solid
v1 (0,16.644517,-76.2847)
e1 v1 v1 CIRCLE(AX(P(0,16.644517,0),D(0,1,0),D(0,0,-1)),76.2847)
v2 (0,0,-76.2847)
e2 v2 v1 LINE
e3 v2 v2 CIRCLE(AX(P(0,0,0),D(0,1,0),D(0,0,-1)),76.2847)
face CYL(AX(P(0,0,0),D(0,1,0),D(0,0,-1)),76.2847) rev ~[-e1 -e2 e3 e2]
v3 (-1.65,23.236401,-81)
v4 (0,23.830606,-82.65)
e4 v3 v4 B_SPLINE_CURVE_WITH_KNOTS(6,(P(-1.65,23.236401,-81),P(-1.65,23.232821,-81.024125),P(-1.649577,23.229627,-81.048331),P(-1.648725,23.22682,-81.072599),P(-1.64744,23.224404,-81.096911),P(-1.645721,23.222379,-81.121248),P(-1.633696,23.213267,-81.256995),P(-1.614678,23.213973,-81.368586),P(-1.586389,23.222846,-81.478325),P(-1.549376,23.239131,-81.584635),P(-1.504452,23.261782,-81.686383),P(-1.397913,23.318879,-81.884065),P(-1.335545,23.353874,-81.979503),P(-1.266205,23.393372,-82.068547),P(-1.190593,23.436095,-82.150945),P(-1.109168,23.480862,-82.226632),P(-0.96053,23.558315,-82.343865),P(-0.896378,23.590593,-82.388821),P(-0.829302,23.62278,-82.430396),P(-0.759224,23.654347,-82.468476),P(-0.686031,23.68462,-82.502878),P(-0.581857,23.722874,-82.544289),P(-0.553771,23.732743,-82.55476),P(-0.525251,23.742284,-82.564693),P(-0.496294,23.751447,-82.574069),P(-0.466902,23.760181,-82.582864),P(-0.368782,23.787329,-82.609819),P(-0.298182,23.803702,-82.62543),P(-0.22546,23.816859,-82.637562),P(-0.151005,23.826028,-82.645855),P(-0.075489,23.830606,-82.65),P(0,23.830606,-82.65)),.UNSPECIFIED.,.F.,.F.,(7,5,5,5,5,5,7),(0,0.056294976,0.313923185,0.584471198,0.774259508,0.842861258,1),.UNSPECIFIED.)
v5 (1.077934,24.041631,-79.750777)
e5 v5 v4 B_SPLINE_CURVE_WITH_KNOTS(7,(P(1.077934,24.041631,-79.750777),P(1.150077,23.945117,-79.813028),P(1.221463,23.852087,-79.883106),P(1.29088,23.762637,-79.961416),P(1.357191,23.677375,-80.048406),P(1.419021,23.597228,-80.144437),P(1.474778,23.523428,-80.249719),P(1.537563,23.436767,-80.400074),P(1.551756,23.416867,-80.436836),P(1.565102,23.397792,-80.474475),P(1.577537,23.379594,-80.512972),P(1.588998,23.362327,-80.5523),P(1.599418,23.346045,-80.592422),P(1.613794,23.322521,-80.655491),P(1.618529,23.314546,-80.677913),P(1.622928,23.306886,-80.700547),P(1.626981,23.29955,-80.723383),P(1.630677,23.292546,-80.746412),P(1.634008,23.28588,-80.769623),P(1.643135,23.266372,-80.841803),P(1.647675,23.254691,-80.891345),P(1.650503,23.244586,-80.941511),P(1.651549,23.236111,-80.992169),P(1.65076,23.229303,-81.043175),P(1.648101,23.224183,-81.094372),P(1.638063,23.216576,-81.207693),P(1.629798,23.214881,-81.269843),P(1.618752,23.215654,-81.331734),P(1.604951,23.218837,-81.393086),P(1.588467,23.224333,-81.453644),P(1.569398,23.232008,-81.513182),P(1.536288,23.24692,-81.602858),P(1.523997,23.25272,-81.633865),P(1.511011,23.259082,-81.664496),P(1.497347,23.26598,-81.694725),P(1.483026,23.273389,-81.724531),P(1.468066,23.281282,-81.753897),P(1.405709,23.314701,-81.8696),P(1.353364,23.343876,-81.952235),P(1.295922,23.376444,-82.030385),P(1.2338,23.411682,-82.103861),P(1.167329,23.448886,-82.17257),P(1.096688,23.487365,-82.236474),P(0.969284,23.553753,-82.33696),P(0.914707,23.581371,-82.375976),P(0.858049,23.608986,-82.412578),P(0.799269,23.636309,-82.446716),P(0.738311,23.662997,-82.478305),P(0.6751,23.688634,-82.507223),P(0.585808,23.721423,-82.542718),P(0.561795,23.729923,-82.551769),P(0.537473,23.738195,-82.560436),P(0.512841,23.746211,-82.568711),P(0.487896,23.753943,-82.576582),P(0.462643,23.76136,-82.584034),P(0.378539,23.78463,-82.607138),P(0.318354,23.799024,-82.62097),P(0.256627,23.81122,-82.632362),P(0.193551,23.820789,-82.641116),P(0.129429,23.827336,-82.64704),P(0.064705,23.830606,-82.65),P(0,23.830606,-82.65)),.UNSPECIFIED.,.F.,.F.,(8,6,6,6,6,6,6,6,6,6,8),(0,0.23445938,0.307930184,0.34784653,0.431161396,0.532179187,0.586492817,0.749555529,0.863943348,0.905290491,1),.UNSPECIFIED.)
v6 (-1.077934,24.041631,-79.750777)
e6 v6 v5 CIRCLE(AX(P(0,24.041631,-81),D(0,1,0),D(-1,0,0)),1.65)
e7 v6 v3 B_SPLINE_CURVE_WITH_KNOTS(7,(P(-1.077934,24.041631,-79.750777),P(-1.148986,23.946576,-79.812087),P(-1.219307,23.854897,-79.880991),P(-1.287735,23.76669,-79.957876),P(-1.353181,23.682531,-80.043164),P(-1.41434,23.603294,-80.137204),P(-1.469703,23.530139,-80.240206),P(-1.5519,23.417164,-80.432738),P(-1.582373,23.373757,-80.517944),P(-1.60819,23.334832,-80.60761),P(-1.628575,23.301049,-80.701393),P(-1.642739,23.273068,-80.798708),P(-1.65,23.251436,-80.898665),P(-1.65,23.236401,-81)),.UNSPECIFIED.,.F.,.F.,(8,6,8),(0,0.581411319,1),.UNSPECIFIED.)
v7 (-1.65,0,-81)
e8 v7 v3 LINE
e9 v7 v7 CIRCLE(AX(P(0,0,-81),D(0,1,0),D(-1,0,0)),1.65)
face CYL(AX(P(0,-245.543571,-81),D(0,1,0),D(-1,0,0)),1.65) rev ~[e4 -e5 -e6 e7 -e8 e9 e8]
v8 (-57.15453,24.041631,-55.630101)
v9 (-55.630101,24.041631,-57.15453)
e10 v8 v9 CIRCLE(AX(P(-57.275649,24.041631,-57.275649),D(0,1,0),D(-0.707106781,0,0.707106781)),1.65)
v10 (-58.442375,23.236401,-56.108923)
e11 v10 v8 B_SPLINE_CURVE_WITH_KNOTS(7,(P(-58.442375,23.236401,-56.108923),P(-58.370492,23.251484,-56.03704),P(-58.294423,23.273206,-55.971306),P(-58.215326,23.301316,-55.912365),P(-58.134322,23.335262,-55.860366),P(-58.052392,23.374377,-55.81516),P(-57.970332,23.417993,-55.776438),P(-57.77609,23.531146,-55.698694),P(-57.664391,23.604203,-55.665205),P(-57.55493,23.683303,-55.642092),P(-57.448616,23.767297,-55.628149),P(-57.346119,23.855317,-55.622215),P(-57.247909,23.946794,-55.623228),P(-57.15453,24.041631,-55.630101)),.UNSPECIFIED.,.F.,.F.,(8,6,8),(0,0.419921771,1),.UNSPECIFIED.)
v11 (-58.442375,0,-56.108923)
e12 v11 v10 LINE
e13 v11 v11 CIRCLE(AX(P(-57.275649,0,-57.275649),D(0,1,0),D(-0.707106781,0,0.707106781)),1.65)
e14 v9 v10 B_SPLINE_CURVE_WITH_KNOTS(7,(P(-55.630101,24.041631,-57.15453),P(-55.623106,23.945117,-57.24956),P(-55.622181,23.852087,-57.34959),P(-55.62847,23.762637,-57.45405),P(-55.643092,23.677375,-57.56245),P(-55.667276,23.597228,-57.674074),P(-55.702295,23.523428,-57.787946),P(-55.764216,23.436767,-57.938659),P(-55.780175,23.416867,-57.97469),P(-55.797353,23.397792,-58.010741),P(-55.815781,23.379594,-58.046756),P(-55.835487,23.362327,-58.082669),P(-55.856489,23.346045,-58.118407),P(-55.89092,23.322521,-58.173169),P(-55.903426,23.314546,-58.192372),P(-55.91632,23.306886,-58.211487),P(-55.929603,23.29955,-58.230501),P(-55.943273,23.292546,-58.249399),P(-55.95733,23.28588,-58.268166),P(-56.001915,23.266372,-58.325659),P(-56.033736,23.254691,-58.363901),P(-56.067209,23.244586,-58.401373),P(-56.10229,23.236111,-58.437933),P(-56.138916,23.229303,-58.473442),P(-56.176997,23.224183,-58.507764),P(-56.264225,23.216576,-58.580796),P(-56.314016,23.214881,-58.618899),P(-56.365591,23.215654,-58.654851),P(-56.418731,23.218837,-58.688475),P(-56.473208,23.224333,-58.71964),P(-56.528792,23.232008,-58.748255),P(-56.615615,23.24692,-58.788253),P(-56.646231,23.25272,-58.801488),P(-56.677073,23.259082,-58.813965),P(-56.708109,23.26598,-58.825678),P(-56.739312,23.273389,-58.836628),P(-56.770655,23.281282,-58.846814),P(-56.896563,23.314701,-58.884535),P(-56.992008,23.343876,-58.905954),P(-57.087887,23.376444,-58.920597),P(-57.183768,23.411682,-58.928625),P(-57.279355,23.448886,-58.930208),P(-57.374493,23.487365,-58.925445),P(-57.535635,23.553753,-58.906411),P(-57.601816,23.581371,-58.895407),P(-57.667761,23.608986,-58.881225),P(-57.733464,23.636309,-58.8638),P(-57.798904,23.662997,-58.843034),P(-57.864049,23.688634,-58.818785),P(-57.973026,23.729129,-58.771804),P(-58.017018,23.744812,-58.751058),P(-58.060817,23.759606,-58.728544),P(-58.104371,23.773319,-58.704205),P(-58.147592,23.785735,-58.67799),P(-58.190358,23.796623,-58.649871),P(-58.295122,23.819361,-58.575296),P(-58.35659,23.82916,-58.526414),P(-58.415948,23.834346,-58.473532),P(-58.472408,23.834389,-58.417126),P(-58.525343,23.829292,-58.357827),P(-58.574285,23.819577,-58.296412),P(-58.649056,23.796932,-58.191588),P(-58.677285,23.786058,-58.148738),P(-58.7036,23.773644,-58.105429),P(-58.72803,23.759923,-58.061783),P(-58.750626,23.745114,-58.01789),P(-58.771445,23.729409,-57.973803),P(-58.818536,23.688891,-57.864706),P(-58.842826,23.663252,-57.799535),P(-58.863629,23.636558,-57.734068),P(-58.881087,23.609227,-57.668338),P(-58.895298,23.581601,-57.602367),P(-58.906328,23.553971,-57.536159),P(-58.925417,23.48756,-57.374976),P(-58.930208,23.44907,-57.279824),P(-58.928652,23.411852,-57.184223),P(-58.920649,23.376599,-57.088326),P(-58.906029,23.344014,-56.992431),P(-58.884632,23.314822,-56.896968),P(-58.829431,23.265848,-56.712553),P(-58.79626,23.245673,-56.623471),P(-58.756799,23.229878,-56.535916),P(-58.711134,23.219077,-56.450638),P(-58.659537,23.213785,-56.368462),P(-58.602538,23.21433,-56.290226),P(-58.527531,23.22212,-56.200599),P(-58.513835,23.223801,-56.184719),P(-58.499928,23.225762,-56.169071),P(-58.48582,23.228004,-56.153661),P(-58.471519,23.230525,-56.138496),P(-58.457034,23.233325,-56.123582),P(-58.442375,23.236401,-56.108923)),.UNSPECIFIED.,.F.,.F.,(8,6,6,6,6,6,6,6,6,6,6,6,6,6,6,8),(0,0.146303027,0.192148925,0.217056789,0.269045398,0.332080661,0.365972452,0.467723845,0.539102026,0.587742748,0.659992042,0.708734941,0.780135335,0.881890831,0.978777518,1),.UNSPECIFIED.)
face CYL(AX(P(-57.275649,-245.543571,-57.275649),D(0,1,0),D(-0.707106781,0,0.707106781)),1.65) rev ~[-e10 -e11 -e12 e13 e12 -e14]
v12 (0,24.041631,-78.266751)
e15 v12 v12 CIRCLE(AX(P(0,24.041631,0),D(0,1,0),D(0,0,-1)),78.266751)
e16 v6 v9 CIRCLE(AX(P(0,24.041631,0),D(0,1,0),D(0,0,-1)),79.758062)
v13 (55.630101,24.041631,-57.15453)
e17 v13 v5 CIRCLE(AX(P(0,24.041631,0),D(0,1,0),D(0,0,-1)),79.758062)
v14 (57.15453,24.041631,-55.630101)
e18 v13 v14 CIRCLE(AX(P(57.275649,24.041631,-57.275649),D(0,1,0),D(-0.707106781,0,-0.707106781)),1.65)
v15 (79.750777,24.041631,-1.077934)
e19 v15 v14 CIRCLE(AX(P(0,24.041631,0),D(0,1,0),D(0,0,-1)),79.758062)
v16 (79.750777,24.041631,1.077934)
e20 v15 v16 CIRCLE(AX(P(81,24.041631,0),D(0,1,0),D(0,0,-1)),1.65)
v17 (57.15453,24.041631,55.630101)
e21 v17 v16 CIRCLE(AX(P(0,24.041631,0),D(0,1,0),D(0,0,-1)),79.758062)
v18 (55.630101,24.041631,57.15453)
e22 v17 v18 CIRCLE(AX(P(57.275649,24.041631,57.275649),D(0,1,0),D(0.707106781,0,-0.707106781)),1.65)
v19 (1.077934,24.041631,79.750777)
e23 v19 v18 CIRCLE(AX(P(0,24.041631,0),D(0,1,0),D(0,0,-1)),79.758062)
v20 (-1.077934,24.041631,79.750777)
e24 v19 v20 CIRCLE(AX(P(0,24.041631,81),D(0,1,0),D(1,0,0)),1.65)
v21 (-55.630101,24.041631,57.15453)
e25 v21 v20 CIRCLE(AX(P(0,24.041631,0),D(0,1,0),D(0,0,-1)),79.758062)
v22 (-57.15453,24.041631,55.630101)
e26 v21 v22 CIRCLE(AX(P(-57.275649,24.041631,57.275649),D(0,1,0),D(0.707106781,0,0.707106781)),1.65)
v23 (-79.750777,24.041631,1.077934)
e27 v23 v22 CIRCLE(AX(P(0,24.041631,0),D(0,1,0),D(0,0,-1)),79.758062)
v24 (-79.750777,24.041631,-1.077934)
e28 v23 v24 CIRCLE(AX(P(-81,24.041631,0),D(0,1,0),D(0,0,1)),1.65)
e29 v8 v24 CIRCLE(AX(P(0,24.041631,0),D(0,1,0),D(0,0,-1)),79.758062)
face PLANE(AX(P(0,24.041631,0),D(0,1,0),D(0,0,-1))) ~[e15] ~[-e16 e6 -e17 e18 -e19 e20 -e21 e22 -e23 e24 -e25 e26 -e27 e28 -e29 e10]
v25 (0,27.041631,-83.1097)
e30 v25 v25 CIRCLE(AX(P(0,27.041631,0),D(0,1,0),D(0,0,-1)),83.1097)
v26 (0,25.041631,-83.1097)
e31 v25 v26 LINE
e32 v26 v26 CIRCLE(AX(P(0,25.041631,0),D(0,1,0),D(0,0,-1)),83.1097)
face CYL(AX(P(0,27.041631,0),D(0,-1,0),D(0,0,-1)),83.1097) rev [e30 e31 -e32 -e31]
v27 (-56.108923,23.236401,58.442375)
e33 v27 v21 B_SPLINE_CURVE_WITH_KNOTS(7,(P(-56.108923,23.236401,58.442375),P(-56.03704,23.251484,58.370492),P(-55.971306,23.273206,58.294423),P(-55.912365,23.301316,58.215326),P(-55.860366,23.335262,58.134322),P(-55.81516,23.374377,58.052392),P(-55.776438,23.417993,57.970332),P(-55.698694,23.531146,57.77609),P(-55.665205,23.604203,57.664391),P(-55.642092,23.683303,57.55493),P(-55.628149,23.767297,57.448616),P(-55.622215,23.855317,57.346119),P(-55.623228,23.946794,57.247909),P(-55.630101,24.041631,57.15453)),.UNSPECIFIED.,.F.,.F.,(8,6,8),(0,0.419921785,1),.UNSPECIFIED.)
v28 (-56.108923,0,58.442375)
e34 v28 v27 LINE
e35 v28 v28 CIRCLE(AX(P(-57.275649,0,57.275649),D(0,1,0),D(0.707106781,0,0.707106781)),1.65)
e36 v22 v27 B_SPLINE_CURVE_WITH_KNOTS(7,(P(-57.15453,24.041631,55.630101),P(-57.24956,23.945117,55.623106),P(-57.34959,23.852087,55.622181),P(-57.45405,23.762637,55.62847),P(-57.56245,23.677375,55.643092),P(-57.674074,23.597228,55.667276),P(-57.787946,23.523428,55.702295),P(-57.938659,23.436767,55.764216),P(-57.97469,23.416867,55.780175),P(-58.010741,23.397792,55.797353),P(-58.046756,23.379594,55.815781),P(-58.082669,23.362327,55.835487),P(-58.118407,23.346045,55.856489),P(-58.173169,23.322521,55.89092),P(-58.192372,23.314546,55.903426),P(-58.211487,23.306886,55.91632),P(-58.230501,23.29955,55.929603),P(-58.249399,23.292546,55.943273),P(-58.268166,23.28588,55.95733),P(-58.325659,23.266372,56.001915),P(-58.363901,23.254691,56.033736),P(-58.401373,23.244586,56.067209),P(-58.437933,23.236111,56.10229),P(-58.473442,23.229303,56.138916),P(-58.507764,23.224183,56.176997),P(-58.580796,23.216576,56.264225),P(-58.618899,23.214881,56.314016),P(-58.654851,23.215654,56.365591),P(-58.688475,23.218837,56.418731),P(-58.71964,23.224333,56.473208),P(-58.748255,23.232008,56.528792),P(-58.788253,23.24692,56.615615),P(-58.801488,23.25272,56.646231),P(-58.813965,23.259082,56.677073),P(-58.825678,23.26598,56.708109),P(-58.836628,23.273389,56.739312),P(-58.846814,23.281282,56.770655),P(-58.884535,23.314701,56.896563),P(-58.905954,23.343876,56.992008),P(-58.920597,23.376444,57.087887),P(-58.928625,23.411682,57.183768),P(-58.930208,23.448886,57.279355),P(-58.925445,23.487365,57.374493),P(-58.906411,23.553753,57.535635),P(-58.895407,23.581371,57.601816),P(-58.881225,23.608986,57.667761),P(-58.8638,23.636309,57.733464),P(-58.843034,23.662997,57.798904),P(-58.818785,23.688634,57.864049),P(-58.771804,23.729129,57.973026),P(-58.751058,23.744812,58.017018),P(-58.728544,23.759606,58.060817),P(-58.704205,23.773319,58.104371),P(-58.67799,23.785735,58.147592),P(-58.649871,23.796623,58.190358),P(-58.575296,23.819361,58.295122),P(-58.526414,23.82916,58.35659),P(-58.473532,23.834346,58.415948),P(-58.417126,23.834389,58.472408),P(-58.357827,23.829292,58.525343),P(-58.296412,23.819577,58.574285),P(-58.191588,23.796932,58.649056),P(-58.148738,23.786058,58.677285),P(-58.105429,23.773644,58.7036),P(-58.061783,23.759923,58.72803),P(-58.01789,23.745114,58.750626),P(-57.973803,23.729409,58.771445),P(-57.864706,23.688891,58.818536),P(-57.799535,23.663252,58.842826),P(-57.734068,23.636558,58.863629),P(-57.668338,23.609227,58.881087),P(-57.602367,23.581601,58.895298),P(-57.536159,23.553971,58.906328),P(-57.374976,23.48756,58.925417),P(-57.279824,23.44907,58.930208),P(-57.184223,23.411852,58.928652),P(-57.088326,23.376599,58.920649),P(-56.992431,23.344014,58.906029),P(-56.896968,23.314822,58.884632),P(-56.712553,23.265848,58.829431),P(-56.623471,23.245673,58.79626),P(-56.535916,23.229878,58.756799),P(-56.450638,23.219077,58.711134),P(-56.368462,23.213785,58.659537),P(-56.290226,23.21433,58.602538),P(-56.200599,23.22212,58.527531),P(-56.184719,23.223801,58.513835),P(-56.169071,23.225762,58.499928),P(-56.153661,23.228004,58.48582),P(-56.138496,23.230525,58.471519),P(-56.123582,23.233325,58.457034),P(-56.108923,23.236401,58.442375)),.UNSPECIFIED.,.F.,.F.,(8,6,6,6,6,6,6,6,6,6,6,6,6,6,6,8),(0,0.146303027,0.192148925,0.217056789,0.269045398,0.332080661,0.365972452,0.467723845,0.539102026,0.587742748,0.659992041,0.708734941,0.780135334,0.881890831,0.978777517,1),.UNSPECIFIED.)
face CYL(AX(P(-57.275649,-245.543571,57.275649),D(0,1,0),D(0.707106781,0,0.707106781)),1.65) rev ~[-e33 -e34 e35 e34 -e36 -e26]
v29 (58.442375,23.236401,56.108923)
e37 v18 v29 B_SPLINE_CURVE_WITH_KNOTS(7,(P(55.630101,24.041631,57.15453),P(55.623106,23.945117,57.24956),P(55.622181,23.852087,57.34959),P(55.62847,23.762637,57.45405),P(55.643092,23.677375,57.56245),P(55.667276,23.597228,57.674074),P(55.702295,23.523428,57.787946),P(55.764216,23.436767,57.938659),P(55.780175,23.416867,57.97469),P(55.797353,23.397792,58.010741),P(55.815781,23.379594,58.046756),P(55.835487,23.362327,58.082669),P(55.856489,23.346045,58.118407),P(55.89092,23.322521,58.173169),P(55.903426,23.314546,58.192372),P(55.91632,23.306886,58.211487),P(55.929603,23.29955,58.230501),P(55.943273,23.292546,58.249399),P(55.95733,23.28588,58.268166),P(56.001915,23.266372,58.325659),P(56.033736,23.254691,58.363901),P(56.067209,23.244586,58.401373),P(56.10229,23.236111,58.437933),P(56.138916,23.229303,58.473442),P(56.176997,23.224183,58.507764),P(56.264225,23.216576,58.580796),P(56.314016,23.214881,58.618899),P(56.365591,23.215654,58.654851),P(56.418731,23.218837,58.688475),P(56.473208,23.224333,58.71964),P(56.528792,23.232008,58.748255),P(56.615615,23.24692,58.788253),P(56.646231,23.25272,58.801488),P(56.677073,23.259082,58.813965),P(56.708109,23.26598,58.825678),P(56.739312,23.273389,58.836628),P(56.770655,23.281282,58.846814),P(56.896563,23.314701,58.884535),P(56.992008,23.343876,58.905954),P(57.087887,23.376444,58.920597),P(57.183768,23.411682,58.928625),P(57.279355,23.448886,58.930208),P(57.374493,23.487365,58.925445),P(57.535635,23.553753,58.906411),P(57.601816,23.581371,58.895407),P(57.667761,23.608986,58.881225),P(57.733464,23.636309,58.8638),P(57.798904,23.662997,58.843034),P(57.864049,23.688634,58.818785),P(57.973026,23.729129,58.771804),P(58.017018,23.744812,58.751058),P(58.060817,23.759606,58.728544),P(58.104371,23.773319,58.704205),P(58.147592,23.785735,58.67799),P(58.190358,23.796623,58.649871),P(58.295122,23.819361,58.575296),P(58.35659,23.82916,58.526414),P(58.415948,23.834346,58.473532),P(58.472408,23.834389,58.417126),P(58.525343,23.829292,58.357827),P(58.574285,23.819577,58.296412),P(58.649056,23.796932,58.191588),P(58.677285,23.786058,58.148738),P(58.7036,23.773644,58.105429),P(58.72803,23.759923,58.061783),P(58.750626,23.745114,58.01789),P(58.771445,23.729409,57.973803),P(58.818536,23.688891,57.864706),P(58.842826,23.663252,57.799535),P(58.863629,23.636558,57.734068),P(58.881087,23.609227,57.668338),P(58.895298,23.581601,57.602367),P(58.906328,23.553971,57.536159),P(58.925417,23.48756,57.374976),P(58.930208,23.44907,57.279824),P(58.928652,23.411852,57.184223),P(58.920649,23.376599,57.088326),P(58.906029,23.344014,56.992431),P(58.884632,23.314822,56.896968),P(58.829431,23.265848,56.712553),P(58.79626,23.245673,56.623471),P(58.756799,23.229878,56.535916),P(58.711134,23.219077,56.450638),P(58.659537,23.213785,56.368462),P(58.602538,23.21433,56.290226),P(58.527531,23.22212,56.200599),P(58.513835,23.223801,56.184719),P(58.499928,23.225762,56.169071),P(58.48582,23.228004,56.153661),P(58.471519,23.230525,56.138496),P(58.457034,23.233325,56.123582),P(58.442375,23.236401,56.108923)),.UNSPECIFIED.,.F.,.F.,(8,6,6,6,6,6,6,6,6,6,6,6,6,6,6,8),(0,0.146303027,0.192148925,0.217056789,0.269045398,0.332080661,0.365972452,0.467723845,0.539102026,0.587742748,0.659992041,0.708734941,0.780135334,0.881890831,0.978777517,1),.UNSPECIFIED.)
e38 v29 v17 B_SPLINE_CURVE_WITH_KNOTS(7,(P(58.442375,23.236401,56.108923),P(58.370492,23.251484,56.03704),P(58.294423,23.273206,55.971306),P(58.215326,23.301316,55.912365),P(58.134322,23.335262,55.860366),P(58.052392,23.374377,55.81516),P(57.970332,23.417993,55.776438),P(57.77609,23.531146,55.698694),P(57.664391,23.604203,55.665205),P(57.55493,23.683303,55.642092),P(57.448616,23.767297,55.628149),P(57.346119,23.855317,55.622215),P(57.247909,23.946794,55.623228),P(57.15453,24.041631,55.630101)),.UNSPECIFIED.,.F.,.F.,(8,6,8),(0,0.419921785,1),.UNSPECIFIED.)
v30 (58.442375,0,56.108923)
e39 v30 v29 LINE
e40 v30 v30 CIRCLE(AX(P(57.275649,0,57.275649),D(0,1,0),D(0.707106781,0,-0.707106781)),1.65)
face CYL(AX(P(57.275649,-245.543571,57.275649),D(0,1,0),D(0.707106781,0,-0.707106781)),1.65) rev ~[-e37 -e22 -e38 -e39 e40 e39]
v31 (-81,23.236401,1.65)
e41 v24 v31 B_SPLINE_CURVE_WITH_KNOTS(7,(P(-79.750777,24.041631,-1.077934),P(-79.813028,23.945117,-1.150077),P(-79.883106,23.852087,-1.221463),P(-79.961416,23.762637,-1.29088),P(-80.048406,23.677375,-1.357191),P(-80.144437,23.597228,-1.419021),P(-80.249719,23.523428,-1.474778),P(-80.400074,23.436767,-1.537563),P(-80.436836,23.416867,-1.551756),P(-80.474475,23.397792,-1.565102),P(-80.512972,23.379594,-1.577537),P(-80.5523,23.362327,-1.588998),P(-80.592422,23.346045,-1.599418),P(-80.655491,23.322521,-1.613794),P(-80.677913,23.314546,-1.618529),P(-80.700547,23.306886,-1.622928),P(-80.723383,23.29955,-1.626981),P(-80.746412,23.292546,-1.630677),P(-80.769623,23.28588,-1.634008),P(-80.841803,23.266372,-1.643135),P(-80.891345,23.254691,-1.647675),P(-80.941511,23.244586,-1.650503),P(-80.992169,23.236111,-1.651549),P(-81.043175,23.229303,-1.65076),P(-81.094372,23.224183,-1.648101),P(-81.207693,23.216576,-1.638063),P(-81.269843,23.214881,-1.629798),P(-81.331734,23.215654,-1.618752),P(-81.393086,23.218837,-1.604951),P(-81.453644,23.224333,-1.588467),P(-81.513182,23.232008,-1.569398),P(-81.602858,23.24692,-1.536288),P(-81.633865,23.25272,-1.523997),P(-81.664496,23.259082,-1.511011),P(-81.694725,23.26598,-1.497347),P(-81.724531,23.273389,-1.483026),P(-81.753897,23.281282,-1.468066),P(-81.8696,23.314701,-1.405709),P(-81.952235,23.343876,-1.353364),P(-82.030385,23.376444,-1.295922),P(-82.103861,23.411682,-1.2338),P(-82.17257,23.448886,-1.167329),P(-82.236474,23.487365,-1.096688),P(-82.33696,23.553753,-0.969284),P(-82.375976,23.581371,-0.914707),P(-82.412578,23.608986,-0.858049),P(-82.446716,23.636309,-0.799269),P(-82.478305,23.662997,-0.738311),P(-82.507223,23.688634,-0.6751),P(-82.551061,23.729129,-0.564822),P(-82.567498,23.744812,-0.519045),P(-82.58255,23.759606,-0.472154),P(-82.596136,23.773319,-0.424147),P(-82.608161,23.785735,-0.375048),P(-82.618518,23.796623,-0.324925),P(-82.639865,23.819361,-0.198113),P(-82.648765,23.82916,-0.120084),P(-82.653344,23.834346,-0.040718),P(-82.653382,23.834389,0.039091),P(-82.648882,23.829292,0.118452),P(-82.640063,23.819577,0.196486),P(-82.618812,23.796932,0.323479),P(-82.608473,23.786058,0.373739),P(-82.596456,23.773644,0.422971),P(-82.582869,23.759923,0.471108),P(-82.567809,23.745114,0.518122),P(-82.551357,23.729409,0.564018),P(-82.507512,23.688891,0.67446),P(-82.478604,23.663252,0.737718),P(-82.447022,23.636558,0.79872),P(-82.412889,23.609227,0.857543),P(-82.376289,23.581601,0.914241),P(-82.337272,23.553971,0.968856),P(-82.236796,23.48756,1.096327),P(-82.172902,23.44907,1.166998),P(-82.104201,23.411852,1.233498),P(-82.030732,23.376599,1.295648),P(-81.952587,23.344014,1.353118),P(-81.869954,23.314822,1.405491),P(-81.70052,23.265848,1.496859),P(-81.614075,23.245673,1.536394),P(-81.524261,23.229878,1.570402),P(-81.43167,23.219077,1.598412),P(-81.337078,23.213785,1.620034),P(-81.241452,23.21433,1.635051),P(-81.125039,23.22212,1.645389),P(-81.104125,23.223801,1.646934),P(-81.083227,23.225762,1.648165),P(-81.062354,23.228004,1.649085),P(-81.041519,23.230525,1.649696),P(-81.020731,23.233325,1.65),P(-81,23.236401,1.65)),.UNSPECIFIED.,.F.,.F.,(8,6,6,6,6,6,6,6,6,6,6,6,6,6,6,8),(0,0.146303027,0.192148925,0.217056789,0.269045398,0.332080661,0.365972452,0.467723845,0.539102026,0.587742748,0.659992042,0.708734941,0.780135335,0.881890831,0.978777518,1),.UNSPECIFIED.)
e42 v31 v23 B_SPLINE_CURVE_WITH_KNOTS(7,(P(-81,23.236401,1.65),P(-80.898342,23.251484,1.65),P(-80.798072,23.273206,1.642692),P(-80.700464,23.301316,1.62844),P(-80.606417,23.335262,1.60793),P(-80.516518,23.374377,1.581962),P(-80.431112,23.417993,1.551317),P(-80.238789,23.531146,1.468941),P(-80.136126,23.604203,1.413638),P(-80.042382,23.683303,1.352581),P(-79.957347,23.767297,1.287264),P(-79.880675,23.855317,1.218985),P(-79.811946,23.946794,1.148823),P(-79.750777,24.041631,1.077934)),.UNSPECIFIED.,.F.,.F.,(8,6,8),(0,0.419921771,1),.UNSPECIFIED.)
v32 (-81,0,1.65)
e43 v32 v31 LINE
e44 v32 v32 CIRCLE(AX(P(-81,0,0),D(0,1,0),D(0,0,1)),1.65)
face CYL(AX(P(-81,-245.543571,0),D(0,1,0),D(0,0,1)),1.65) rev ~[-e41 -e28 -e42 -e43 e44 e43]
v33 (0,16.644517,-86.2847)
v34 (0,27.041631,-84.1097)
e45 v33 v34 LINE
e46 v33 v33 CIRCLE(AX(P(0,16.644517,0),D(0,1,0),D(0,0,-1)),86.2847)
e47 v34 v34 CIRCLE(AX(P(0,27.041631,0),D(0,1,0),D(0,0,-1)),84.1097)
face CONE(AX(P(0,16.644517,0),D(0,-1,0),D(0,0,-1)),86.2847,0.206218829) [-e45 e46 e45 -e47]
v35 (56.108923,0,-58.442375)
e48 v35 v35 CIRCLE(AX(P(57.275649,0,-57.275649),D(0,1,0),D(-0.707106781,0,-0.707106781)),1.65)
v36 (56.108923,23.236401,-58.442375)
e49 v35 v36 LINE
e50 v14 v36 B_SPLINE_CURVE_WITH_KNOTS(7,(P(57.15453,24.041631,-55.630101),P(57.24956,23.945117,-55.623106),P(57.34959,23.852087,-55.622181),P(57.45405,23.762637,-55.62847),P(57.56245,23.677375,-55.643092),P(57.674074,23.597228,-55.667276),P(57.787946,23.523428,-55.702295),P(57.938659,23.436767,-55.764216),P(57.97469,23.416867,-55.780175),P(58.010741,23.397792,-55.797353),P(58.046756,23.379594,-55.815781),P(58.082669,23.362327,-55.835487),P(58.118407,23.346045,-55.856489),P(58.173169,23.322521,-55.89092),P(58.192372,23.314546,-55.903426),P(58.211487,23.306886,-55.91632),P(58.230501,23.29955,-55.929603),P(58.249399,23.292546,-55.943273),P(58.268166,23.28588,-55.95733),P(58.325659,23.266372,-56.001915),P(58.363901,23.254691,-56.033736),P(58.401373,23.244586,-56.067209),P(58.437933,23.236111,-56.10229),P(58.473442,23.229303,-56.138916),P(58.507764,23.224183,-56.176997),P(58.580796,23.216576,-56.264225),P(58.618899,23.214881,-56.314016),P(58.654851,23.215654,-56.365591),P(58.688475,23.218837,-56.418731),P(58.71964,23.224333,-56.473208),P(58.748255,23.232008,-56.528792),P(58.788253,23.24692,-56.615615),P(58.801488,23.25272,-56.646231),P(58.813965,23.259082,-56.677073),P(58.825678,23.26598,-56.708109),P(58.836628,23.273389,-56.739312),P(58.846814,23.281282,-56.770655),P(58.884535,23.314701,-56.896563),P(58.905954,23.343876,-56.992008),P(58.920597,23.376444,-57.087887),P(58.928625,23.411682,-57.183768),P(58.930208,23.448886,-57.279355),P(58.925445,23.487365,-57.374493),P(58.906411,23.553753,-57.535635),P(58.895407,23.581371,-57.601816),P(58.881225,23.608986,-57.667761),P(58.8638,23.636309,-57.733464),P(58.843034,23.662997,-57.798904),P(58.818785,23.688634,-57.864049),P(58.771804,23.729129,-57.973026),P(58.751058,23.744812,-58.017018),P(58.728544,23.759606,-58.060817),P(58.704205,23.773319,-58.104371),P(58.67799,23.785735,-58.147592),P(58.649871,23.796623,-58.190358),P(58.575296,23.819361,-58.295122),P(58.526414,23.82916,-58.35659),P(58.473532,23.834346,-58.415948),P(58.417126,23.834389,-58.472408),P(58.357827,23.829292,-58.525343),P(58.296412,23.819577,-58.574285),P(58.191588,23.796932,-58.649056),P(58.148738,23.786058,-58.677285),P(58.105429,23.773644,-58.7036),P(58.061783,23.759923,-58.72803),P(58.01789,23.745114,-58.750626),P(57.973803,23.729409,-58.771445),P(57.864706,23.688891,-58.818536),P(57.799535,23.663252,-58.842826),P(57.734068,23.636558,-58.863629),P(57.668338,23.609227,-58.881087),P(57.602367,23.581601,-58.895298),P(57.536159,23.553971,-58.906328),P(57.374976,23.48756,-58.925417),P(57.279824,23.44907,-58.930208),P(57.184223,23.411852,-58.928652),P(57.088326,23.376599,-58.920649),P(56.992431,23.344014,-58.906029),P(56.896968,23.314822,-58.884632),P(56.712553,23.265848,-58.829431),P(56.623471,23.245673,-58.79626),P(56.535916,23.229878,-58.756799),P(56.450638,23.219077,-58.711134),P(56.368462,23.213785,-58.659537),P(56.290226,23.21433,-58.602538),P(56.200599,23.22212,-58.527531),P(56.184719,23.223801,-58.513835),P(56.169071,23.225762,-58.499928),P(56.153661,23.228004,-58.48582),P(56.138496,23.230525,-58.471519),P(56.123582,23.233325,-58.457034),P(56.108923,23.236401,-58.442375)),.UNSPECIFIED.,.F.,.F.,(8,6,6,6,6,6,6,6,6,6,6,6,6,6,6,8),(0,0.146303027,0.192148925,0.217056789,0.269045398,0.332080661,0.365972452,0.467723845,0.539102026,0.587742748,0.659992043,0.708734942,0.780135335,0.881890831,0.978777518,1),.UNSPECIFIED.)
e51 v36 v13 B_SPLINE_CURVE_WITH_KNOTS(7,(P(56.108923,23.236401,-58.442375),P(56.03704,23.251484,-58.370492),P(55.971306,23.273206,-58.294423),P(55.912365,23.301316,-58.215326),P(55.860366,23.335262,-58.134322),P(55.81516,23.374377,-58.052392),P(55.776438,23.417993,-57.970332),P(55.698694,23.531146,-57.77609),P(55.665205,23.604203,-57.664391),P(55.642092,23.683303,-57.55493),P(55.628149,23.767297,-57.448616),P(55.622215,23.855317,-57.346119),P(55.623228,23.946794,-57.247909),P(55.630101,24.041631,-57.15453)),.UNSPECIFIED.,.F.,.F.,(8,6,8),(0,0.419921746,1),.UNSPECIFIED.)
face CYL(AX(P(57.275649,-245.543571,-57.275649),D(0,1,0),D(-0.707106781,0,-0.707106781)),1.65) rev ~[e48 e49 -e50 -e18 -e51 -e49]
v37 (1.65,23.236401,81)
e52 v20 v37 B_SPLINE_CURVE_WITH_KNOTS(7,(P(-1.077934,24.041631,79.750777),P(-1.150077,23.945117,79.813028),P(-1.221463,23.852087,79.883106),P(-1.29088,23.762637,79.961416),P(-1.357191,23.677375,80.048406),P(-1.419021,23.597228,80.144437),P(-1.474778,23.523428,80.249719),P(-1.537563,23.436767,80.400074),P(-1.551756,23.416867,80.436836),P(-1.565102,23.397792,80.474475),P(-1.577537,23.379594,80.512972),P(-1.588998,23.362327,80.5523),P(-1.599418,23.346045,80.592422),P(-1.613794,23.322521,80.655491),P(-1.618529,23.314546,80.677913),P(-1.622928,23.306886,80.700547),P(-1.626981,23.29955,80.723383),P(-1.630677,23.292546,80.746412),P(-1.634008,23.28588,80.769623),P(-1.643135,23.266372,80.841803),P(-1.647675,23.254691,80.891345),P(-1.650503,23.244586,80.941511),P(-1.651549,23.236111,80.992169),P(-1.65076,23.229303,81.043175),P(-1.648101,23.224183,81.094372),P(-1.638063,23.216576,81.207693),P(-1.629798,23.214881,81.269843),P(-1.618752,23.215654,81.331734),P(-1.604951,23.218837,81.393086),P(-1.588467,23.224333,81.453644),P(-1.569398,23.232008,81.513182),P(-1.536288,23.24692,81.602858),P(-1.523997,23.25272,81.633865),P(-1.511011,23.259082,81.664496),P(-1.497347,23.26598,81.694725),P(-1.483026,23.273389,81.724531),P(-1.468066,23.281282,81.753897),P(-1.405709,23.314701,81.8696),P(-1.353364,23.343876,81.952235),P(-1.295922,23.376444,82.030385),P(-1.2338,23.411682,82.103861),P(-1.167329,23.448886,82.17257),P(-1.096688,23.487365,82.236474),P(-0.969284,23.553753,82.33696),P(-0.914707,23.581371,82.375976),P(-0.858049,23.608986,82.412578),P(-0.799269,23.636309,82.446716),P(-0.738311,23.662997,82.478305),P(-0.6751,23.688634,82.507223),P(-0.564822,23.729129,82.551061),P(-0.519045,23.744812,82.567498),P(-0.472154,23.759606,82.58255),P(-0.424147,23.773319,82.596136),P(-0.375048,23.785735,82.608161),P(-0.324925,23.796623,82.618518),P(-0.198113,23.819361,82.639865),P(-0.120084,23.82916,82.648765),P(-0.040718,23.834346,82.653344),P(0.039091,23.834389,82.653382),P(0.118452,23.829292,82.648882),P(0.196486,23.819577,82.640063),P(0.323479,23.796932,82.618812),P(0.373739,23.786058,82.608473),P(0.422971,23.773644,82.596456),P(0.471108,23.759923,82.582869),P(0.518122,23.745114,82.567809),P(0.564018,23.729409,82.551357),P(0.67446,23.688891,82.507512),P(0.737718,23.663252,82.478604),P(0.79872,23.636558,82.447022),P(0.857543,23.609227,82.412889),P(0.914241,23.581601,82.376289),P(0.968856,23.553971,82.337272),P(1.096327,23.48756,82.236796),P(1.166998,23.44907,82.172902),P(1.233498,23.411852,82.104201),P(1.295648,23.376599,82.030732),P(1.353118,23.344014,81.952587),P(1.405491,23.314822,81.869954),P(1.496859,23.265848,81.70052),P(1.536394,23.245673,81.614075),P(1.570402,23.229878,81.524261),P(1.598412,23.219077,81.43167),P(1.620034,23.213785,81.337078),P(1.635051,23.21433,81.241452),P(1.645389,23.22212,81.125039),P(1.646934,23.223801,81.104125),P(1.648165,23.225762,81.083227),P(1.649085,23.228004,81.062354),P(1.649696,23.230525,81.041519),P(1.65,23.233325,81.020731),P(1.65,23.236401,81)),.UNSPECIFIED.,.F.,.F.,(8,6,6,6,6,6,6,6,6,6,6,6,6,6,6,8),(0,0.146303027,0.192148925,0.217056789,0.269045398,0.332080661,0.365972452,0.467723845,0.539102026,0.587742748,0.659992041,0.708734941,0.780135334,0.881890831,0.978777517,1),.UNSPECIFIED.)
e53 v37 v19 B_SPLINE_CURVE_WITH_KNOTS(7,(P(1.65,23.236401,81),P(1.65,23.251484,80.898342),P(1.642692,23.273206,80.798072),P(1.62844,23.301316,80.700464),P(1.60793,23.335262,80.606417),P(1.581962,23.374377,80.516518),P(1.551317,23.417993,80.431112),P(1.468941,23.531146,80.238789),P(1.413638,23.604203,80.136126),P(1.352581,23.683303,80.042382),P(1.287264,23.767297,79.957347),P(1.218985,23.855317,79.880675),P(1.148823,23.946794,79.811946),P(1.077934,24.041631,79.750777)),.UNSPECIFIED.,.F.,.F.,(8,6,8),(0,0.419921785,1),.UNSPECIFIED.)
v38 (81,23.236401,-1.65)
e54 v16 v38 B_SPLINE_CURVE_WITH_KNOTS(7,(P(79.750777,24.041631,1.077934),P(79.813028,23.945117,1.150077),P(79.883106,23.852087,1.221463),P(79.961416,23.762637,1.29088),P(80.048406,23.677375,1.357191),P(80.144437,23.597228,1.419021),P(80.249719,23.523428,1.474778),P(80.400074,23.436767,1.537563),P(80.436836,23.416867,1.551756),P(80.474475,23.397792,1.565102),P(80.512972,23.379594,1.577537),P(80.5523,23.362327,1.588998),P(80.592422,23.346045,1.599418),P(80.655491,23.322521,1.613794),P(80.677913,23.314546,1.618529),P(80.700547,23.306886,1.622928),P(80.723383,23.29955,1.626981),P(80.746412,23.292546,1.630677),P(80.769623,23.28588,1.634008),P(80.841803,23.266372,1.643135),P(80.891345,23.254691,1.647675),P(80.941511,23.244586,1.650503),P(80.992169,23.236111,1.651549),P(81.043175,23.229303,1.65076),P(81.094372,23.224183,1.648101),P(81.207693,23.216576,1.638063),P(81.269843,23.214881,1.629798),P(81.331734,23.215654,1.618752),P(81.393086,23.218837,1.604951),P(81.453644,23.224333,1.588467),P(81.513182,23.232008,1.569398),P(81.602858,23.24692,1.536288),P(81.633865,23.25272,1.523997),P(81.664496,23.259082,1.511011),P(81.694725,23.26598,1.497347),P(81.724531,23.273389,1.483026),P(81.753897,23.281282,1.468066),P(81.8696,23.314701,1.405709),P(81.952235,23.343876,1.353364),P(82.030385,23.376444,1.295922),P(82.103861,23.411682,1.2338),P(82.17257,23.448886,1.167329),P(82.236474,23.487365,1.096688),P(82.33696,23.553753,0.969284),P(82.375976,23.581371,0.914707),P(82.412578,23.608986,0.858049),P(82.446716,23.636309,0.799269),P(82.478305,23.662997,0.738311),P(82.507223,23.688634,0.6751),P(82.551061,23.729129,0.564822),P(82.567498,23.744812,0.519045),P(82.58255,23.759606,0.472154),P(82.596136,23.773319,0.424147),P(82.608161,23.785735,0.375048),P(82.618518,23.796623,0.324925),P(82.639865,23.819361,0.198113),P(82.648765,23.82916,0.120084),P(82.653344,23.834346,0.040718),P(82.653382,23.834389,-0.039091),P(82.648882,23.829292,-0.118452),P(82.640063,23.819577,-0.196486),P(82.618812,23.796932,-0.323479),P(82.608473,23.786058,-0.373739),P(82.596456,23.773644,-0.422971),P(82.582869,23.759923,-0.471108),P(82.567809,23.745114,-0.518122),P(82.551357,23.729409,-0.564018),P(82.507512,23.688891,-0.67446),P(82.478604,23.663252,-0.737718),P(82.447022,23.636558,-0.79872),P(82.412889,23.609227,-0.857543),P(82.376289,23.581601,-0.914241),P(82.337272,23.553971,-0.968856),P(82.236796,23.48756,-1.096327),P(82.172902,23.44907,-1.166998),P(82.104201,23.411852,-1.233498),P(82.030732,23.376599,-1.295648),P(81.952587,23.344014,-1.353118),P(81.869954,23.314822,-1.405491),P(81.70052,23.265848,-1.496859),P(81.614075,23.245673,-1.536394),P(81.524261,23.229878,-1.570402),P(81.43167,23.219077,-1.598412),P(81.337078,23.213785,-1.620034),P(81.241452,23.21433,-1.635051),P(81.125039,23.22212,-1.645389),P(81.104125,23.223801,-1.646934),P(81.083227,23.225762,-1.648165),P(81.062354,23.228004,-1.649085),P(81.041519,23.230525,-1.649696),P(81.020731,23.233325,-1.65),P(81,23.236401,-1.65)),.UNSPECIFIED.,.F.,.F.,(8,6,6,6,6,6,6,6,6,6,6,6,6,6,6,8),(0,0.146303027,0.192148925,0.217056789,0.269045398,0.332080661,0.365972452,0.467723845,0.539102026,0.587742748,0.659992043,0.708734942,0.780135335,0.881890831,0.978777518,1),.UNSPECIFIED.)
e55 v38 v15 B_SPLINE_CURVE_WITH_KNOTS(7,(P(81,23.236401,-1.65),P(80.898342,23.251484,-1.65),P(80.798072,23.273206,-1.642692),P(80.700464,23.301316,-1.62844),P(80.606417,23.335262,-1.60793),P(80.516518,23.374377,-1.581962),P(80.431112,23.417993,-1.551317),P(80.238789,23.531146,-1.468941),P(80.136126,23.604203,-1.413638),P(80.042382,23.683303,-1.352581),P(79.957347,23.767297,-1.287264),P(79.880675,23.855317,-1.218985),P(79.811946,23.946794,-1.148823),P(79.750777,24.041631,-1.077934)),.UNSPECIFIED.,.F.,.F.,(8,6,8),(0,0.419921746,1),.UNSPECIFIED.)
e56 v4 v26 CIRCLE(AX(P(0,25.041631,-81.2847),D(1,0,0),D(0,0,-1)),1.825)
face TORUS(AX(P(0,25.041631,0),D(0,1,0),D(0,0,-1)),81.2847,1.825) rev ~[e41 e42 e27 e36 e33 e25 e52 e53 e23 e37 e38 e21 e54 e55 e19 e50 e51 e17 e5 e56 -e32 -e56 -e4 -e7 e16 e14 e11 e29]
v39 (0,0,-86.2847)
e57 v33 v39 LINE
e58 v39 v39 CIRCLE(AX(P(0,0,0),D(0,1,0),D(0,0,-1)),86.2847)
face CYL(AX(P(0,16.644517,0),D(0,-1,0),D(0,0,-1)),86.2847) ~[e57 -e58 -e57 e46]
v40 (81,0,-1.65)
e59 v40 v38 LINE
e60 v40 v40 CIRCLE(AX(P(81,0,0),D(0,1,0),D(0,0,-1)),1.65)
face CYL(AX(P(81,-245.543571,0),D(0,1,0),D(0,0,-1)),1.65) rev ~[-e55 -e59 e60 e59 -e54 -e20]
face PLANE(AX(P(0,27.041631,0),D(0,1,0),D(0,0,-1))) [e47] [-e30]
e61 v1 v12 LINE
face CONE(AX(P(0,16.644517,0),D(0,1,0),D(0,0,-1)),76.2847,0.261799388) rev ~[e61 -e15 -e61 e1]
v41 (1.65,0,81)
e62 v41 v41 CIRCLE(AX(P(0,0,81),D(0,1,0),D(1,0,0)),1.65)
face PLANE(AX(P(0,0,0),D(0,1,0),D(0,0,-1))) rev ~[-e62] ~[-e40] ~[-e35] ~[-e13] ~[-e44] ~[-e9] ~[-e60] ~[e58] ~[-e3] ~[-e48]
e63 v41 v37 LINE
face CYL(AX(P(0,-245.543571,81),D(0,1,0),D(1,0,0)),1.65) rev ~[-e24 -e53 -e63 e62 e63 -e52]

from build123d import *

# Parameters (mm, degrees)
SKETCH8_R             = 1.825
M4X0_7_TAPPED_HOLE1_D = 3.3
CIRPATTERN1_COUNT     = 8


with BuildPart() as part:
    # Sketch3 → Revolve1 (revolve)
    with BuildSketch(Plane.XY):
        Polygon((86.2847, 16.644516882), (86.2847, 0), (76.2847, 0), (76.2847, 16.644516882), (78.5347, 25.041631199), (84.0347, 25.041631199), align=None)
    revolve(axis=Axis((0, 0, 0), (0, 1, 0)))

    # Sketch8 → Cut-Revolve1 (revolve, cut)
    with BuildSketch(Plane.XY):
        with Locations((81.2847, 25.041631199)):
            Circle(SKETCH8_R)
    revolve(axis=Axis((0, 0, 0), (0, 1, 0)), mode=Mode.SUBTRACT)

    # Sketch15 → Cut-Revolve3 (revolve, cut)
    with BuildSketch(Plane.XY):
        Polygon((81.2847, 25.041631199), (78.5347, 25.041631199), (78.266750808, 24.041631199), (81.2847, 24.041631199), align=None)
    revolve(axis=Axis((0, 0, 0), (0, 1, 0)), mode=Mode.SUBTRACT)

    # Sketch17 → Revolve3 (revolve)
    with BuildSketch(Plane.XY):
        Polygon((84.1097, 27.041631199), (83.1097, 27.041631199), (83.1097, 25.041631199), (84.0347, 25.041631199), (86.2847, 16.644516882), align=None)
    revolve(axis=Axis((0, 0, 0), (0, 1, 0)))

    # M4x0.7 Tapped Hole1 (through all)
    with Locations(Plane(origin=(0, 0, 0), x_dir=(-1, 0, 0), z_dir=(0, -1, 0))):
        with Locations((0, -81)):
            m4x0_7_tapped_hole1 = Hole(M4X0_7_TAPPED_HOLE1_D / 2)

    # CirPattern1: M4x0.7 Tapped Hole1 ×8 about axis
    cirpattern1_axis = Axis((0, 0, 0), (0, -1, 0))
    for i in range(1, CIRPATTERN1_COUNT):
        add(m4x0_7_tapped_hole1.rotate(cirpattern1_axis, i * 360 / CIRPATTERN1_COUNT), mode=Mode.SUBTRACT)


solid = part.part
